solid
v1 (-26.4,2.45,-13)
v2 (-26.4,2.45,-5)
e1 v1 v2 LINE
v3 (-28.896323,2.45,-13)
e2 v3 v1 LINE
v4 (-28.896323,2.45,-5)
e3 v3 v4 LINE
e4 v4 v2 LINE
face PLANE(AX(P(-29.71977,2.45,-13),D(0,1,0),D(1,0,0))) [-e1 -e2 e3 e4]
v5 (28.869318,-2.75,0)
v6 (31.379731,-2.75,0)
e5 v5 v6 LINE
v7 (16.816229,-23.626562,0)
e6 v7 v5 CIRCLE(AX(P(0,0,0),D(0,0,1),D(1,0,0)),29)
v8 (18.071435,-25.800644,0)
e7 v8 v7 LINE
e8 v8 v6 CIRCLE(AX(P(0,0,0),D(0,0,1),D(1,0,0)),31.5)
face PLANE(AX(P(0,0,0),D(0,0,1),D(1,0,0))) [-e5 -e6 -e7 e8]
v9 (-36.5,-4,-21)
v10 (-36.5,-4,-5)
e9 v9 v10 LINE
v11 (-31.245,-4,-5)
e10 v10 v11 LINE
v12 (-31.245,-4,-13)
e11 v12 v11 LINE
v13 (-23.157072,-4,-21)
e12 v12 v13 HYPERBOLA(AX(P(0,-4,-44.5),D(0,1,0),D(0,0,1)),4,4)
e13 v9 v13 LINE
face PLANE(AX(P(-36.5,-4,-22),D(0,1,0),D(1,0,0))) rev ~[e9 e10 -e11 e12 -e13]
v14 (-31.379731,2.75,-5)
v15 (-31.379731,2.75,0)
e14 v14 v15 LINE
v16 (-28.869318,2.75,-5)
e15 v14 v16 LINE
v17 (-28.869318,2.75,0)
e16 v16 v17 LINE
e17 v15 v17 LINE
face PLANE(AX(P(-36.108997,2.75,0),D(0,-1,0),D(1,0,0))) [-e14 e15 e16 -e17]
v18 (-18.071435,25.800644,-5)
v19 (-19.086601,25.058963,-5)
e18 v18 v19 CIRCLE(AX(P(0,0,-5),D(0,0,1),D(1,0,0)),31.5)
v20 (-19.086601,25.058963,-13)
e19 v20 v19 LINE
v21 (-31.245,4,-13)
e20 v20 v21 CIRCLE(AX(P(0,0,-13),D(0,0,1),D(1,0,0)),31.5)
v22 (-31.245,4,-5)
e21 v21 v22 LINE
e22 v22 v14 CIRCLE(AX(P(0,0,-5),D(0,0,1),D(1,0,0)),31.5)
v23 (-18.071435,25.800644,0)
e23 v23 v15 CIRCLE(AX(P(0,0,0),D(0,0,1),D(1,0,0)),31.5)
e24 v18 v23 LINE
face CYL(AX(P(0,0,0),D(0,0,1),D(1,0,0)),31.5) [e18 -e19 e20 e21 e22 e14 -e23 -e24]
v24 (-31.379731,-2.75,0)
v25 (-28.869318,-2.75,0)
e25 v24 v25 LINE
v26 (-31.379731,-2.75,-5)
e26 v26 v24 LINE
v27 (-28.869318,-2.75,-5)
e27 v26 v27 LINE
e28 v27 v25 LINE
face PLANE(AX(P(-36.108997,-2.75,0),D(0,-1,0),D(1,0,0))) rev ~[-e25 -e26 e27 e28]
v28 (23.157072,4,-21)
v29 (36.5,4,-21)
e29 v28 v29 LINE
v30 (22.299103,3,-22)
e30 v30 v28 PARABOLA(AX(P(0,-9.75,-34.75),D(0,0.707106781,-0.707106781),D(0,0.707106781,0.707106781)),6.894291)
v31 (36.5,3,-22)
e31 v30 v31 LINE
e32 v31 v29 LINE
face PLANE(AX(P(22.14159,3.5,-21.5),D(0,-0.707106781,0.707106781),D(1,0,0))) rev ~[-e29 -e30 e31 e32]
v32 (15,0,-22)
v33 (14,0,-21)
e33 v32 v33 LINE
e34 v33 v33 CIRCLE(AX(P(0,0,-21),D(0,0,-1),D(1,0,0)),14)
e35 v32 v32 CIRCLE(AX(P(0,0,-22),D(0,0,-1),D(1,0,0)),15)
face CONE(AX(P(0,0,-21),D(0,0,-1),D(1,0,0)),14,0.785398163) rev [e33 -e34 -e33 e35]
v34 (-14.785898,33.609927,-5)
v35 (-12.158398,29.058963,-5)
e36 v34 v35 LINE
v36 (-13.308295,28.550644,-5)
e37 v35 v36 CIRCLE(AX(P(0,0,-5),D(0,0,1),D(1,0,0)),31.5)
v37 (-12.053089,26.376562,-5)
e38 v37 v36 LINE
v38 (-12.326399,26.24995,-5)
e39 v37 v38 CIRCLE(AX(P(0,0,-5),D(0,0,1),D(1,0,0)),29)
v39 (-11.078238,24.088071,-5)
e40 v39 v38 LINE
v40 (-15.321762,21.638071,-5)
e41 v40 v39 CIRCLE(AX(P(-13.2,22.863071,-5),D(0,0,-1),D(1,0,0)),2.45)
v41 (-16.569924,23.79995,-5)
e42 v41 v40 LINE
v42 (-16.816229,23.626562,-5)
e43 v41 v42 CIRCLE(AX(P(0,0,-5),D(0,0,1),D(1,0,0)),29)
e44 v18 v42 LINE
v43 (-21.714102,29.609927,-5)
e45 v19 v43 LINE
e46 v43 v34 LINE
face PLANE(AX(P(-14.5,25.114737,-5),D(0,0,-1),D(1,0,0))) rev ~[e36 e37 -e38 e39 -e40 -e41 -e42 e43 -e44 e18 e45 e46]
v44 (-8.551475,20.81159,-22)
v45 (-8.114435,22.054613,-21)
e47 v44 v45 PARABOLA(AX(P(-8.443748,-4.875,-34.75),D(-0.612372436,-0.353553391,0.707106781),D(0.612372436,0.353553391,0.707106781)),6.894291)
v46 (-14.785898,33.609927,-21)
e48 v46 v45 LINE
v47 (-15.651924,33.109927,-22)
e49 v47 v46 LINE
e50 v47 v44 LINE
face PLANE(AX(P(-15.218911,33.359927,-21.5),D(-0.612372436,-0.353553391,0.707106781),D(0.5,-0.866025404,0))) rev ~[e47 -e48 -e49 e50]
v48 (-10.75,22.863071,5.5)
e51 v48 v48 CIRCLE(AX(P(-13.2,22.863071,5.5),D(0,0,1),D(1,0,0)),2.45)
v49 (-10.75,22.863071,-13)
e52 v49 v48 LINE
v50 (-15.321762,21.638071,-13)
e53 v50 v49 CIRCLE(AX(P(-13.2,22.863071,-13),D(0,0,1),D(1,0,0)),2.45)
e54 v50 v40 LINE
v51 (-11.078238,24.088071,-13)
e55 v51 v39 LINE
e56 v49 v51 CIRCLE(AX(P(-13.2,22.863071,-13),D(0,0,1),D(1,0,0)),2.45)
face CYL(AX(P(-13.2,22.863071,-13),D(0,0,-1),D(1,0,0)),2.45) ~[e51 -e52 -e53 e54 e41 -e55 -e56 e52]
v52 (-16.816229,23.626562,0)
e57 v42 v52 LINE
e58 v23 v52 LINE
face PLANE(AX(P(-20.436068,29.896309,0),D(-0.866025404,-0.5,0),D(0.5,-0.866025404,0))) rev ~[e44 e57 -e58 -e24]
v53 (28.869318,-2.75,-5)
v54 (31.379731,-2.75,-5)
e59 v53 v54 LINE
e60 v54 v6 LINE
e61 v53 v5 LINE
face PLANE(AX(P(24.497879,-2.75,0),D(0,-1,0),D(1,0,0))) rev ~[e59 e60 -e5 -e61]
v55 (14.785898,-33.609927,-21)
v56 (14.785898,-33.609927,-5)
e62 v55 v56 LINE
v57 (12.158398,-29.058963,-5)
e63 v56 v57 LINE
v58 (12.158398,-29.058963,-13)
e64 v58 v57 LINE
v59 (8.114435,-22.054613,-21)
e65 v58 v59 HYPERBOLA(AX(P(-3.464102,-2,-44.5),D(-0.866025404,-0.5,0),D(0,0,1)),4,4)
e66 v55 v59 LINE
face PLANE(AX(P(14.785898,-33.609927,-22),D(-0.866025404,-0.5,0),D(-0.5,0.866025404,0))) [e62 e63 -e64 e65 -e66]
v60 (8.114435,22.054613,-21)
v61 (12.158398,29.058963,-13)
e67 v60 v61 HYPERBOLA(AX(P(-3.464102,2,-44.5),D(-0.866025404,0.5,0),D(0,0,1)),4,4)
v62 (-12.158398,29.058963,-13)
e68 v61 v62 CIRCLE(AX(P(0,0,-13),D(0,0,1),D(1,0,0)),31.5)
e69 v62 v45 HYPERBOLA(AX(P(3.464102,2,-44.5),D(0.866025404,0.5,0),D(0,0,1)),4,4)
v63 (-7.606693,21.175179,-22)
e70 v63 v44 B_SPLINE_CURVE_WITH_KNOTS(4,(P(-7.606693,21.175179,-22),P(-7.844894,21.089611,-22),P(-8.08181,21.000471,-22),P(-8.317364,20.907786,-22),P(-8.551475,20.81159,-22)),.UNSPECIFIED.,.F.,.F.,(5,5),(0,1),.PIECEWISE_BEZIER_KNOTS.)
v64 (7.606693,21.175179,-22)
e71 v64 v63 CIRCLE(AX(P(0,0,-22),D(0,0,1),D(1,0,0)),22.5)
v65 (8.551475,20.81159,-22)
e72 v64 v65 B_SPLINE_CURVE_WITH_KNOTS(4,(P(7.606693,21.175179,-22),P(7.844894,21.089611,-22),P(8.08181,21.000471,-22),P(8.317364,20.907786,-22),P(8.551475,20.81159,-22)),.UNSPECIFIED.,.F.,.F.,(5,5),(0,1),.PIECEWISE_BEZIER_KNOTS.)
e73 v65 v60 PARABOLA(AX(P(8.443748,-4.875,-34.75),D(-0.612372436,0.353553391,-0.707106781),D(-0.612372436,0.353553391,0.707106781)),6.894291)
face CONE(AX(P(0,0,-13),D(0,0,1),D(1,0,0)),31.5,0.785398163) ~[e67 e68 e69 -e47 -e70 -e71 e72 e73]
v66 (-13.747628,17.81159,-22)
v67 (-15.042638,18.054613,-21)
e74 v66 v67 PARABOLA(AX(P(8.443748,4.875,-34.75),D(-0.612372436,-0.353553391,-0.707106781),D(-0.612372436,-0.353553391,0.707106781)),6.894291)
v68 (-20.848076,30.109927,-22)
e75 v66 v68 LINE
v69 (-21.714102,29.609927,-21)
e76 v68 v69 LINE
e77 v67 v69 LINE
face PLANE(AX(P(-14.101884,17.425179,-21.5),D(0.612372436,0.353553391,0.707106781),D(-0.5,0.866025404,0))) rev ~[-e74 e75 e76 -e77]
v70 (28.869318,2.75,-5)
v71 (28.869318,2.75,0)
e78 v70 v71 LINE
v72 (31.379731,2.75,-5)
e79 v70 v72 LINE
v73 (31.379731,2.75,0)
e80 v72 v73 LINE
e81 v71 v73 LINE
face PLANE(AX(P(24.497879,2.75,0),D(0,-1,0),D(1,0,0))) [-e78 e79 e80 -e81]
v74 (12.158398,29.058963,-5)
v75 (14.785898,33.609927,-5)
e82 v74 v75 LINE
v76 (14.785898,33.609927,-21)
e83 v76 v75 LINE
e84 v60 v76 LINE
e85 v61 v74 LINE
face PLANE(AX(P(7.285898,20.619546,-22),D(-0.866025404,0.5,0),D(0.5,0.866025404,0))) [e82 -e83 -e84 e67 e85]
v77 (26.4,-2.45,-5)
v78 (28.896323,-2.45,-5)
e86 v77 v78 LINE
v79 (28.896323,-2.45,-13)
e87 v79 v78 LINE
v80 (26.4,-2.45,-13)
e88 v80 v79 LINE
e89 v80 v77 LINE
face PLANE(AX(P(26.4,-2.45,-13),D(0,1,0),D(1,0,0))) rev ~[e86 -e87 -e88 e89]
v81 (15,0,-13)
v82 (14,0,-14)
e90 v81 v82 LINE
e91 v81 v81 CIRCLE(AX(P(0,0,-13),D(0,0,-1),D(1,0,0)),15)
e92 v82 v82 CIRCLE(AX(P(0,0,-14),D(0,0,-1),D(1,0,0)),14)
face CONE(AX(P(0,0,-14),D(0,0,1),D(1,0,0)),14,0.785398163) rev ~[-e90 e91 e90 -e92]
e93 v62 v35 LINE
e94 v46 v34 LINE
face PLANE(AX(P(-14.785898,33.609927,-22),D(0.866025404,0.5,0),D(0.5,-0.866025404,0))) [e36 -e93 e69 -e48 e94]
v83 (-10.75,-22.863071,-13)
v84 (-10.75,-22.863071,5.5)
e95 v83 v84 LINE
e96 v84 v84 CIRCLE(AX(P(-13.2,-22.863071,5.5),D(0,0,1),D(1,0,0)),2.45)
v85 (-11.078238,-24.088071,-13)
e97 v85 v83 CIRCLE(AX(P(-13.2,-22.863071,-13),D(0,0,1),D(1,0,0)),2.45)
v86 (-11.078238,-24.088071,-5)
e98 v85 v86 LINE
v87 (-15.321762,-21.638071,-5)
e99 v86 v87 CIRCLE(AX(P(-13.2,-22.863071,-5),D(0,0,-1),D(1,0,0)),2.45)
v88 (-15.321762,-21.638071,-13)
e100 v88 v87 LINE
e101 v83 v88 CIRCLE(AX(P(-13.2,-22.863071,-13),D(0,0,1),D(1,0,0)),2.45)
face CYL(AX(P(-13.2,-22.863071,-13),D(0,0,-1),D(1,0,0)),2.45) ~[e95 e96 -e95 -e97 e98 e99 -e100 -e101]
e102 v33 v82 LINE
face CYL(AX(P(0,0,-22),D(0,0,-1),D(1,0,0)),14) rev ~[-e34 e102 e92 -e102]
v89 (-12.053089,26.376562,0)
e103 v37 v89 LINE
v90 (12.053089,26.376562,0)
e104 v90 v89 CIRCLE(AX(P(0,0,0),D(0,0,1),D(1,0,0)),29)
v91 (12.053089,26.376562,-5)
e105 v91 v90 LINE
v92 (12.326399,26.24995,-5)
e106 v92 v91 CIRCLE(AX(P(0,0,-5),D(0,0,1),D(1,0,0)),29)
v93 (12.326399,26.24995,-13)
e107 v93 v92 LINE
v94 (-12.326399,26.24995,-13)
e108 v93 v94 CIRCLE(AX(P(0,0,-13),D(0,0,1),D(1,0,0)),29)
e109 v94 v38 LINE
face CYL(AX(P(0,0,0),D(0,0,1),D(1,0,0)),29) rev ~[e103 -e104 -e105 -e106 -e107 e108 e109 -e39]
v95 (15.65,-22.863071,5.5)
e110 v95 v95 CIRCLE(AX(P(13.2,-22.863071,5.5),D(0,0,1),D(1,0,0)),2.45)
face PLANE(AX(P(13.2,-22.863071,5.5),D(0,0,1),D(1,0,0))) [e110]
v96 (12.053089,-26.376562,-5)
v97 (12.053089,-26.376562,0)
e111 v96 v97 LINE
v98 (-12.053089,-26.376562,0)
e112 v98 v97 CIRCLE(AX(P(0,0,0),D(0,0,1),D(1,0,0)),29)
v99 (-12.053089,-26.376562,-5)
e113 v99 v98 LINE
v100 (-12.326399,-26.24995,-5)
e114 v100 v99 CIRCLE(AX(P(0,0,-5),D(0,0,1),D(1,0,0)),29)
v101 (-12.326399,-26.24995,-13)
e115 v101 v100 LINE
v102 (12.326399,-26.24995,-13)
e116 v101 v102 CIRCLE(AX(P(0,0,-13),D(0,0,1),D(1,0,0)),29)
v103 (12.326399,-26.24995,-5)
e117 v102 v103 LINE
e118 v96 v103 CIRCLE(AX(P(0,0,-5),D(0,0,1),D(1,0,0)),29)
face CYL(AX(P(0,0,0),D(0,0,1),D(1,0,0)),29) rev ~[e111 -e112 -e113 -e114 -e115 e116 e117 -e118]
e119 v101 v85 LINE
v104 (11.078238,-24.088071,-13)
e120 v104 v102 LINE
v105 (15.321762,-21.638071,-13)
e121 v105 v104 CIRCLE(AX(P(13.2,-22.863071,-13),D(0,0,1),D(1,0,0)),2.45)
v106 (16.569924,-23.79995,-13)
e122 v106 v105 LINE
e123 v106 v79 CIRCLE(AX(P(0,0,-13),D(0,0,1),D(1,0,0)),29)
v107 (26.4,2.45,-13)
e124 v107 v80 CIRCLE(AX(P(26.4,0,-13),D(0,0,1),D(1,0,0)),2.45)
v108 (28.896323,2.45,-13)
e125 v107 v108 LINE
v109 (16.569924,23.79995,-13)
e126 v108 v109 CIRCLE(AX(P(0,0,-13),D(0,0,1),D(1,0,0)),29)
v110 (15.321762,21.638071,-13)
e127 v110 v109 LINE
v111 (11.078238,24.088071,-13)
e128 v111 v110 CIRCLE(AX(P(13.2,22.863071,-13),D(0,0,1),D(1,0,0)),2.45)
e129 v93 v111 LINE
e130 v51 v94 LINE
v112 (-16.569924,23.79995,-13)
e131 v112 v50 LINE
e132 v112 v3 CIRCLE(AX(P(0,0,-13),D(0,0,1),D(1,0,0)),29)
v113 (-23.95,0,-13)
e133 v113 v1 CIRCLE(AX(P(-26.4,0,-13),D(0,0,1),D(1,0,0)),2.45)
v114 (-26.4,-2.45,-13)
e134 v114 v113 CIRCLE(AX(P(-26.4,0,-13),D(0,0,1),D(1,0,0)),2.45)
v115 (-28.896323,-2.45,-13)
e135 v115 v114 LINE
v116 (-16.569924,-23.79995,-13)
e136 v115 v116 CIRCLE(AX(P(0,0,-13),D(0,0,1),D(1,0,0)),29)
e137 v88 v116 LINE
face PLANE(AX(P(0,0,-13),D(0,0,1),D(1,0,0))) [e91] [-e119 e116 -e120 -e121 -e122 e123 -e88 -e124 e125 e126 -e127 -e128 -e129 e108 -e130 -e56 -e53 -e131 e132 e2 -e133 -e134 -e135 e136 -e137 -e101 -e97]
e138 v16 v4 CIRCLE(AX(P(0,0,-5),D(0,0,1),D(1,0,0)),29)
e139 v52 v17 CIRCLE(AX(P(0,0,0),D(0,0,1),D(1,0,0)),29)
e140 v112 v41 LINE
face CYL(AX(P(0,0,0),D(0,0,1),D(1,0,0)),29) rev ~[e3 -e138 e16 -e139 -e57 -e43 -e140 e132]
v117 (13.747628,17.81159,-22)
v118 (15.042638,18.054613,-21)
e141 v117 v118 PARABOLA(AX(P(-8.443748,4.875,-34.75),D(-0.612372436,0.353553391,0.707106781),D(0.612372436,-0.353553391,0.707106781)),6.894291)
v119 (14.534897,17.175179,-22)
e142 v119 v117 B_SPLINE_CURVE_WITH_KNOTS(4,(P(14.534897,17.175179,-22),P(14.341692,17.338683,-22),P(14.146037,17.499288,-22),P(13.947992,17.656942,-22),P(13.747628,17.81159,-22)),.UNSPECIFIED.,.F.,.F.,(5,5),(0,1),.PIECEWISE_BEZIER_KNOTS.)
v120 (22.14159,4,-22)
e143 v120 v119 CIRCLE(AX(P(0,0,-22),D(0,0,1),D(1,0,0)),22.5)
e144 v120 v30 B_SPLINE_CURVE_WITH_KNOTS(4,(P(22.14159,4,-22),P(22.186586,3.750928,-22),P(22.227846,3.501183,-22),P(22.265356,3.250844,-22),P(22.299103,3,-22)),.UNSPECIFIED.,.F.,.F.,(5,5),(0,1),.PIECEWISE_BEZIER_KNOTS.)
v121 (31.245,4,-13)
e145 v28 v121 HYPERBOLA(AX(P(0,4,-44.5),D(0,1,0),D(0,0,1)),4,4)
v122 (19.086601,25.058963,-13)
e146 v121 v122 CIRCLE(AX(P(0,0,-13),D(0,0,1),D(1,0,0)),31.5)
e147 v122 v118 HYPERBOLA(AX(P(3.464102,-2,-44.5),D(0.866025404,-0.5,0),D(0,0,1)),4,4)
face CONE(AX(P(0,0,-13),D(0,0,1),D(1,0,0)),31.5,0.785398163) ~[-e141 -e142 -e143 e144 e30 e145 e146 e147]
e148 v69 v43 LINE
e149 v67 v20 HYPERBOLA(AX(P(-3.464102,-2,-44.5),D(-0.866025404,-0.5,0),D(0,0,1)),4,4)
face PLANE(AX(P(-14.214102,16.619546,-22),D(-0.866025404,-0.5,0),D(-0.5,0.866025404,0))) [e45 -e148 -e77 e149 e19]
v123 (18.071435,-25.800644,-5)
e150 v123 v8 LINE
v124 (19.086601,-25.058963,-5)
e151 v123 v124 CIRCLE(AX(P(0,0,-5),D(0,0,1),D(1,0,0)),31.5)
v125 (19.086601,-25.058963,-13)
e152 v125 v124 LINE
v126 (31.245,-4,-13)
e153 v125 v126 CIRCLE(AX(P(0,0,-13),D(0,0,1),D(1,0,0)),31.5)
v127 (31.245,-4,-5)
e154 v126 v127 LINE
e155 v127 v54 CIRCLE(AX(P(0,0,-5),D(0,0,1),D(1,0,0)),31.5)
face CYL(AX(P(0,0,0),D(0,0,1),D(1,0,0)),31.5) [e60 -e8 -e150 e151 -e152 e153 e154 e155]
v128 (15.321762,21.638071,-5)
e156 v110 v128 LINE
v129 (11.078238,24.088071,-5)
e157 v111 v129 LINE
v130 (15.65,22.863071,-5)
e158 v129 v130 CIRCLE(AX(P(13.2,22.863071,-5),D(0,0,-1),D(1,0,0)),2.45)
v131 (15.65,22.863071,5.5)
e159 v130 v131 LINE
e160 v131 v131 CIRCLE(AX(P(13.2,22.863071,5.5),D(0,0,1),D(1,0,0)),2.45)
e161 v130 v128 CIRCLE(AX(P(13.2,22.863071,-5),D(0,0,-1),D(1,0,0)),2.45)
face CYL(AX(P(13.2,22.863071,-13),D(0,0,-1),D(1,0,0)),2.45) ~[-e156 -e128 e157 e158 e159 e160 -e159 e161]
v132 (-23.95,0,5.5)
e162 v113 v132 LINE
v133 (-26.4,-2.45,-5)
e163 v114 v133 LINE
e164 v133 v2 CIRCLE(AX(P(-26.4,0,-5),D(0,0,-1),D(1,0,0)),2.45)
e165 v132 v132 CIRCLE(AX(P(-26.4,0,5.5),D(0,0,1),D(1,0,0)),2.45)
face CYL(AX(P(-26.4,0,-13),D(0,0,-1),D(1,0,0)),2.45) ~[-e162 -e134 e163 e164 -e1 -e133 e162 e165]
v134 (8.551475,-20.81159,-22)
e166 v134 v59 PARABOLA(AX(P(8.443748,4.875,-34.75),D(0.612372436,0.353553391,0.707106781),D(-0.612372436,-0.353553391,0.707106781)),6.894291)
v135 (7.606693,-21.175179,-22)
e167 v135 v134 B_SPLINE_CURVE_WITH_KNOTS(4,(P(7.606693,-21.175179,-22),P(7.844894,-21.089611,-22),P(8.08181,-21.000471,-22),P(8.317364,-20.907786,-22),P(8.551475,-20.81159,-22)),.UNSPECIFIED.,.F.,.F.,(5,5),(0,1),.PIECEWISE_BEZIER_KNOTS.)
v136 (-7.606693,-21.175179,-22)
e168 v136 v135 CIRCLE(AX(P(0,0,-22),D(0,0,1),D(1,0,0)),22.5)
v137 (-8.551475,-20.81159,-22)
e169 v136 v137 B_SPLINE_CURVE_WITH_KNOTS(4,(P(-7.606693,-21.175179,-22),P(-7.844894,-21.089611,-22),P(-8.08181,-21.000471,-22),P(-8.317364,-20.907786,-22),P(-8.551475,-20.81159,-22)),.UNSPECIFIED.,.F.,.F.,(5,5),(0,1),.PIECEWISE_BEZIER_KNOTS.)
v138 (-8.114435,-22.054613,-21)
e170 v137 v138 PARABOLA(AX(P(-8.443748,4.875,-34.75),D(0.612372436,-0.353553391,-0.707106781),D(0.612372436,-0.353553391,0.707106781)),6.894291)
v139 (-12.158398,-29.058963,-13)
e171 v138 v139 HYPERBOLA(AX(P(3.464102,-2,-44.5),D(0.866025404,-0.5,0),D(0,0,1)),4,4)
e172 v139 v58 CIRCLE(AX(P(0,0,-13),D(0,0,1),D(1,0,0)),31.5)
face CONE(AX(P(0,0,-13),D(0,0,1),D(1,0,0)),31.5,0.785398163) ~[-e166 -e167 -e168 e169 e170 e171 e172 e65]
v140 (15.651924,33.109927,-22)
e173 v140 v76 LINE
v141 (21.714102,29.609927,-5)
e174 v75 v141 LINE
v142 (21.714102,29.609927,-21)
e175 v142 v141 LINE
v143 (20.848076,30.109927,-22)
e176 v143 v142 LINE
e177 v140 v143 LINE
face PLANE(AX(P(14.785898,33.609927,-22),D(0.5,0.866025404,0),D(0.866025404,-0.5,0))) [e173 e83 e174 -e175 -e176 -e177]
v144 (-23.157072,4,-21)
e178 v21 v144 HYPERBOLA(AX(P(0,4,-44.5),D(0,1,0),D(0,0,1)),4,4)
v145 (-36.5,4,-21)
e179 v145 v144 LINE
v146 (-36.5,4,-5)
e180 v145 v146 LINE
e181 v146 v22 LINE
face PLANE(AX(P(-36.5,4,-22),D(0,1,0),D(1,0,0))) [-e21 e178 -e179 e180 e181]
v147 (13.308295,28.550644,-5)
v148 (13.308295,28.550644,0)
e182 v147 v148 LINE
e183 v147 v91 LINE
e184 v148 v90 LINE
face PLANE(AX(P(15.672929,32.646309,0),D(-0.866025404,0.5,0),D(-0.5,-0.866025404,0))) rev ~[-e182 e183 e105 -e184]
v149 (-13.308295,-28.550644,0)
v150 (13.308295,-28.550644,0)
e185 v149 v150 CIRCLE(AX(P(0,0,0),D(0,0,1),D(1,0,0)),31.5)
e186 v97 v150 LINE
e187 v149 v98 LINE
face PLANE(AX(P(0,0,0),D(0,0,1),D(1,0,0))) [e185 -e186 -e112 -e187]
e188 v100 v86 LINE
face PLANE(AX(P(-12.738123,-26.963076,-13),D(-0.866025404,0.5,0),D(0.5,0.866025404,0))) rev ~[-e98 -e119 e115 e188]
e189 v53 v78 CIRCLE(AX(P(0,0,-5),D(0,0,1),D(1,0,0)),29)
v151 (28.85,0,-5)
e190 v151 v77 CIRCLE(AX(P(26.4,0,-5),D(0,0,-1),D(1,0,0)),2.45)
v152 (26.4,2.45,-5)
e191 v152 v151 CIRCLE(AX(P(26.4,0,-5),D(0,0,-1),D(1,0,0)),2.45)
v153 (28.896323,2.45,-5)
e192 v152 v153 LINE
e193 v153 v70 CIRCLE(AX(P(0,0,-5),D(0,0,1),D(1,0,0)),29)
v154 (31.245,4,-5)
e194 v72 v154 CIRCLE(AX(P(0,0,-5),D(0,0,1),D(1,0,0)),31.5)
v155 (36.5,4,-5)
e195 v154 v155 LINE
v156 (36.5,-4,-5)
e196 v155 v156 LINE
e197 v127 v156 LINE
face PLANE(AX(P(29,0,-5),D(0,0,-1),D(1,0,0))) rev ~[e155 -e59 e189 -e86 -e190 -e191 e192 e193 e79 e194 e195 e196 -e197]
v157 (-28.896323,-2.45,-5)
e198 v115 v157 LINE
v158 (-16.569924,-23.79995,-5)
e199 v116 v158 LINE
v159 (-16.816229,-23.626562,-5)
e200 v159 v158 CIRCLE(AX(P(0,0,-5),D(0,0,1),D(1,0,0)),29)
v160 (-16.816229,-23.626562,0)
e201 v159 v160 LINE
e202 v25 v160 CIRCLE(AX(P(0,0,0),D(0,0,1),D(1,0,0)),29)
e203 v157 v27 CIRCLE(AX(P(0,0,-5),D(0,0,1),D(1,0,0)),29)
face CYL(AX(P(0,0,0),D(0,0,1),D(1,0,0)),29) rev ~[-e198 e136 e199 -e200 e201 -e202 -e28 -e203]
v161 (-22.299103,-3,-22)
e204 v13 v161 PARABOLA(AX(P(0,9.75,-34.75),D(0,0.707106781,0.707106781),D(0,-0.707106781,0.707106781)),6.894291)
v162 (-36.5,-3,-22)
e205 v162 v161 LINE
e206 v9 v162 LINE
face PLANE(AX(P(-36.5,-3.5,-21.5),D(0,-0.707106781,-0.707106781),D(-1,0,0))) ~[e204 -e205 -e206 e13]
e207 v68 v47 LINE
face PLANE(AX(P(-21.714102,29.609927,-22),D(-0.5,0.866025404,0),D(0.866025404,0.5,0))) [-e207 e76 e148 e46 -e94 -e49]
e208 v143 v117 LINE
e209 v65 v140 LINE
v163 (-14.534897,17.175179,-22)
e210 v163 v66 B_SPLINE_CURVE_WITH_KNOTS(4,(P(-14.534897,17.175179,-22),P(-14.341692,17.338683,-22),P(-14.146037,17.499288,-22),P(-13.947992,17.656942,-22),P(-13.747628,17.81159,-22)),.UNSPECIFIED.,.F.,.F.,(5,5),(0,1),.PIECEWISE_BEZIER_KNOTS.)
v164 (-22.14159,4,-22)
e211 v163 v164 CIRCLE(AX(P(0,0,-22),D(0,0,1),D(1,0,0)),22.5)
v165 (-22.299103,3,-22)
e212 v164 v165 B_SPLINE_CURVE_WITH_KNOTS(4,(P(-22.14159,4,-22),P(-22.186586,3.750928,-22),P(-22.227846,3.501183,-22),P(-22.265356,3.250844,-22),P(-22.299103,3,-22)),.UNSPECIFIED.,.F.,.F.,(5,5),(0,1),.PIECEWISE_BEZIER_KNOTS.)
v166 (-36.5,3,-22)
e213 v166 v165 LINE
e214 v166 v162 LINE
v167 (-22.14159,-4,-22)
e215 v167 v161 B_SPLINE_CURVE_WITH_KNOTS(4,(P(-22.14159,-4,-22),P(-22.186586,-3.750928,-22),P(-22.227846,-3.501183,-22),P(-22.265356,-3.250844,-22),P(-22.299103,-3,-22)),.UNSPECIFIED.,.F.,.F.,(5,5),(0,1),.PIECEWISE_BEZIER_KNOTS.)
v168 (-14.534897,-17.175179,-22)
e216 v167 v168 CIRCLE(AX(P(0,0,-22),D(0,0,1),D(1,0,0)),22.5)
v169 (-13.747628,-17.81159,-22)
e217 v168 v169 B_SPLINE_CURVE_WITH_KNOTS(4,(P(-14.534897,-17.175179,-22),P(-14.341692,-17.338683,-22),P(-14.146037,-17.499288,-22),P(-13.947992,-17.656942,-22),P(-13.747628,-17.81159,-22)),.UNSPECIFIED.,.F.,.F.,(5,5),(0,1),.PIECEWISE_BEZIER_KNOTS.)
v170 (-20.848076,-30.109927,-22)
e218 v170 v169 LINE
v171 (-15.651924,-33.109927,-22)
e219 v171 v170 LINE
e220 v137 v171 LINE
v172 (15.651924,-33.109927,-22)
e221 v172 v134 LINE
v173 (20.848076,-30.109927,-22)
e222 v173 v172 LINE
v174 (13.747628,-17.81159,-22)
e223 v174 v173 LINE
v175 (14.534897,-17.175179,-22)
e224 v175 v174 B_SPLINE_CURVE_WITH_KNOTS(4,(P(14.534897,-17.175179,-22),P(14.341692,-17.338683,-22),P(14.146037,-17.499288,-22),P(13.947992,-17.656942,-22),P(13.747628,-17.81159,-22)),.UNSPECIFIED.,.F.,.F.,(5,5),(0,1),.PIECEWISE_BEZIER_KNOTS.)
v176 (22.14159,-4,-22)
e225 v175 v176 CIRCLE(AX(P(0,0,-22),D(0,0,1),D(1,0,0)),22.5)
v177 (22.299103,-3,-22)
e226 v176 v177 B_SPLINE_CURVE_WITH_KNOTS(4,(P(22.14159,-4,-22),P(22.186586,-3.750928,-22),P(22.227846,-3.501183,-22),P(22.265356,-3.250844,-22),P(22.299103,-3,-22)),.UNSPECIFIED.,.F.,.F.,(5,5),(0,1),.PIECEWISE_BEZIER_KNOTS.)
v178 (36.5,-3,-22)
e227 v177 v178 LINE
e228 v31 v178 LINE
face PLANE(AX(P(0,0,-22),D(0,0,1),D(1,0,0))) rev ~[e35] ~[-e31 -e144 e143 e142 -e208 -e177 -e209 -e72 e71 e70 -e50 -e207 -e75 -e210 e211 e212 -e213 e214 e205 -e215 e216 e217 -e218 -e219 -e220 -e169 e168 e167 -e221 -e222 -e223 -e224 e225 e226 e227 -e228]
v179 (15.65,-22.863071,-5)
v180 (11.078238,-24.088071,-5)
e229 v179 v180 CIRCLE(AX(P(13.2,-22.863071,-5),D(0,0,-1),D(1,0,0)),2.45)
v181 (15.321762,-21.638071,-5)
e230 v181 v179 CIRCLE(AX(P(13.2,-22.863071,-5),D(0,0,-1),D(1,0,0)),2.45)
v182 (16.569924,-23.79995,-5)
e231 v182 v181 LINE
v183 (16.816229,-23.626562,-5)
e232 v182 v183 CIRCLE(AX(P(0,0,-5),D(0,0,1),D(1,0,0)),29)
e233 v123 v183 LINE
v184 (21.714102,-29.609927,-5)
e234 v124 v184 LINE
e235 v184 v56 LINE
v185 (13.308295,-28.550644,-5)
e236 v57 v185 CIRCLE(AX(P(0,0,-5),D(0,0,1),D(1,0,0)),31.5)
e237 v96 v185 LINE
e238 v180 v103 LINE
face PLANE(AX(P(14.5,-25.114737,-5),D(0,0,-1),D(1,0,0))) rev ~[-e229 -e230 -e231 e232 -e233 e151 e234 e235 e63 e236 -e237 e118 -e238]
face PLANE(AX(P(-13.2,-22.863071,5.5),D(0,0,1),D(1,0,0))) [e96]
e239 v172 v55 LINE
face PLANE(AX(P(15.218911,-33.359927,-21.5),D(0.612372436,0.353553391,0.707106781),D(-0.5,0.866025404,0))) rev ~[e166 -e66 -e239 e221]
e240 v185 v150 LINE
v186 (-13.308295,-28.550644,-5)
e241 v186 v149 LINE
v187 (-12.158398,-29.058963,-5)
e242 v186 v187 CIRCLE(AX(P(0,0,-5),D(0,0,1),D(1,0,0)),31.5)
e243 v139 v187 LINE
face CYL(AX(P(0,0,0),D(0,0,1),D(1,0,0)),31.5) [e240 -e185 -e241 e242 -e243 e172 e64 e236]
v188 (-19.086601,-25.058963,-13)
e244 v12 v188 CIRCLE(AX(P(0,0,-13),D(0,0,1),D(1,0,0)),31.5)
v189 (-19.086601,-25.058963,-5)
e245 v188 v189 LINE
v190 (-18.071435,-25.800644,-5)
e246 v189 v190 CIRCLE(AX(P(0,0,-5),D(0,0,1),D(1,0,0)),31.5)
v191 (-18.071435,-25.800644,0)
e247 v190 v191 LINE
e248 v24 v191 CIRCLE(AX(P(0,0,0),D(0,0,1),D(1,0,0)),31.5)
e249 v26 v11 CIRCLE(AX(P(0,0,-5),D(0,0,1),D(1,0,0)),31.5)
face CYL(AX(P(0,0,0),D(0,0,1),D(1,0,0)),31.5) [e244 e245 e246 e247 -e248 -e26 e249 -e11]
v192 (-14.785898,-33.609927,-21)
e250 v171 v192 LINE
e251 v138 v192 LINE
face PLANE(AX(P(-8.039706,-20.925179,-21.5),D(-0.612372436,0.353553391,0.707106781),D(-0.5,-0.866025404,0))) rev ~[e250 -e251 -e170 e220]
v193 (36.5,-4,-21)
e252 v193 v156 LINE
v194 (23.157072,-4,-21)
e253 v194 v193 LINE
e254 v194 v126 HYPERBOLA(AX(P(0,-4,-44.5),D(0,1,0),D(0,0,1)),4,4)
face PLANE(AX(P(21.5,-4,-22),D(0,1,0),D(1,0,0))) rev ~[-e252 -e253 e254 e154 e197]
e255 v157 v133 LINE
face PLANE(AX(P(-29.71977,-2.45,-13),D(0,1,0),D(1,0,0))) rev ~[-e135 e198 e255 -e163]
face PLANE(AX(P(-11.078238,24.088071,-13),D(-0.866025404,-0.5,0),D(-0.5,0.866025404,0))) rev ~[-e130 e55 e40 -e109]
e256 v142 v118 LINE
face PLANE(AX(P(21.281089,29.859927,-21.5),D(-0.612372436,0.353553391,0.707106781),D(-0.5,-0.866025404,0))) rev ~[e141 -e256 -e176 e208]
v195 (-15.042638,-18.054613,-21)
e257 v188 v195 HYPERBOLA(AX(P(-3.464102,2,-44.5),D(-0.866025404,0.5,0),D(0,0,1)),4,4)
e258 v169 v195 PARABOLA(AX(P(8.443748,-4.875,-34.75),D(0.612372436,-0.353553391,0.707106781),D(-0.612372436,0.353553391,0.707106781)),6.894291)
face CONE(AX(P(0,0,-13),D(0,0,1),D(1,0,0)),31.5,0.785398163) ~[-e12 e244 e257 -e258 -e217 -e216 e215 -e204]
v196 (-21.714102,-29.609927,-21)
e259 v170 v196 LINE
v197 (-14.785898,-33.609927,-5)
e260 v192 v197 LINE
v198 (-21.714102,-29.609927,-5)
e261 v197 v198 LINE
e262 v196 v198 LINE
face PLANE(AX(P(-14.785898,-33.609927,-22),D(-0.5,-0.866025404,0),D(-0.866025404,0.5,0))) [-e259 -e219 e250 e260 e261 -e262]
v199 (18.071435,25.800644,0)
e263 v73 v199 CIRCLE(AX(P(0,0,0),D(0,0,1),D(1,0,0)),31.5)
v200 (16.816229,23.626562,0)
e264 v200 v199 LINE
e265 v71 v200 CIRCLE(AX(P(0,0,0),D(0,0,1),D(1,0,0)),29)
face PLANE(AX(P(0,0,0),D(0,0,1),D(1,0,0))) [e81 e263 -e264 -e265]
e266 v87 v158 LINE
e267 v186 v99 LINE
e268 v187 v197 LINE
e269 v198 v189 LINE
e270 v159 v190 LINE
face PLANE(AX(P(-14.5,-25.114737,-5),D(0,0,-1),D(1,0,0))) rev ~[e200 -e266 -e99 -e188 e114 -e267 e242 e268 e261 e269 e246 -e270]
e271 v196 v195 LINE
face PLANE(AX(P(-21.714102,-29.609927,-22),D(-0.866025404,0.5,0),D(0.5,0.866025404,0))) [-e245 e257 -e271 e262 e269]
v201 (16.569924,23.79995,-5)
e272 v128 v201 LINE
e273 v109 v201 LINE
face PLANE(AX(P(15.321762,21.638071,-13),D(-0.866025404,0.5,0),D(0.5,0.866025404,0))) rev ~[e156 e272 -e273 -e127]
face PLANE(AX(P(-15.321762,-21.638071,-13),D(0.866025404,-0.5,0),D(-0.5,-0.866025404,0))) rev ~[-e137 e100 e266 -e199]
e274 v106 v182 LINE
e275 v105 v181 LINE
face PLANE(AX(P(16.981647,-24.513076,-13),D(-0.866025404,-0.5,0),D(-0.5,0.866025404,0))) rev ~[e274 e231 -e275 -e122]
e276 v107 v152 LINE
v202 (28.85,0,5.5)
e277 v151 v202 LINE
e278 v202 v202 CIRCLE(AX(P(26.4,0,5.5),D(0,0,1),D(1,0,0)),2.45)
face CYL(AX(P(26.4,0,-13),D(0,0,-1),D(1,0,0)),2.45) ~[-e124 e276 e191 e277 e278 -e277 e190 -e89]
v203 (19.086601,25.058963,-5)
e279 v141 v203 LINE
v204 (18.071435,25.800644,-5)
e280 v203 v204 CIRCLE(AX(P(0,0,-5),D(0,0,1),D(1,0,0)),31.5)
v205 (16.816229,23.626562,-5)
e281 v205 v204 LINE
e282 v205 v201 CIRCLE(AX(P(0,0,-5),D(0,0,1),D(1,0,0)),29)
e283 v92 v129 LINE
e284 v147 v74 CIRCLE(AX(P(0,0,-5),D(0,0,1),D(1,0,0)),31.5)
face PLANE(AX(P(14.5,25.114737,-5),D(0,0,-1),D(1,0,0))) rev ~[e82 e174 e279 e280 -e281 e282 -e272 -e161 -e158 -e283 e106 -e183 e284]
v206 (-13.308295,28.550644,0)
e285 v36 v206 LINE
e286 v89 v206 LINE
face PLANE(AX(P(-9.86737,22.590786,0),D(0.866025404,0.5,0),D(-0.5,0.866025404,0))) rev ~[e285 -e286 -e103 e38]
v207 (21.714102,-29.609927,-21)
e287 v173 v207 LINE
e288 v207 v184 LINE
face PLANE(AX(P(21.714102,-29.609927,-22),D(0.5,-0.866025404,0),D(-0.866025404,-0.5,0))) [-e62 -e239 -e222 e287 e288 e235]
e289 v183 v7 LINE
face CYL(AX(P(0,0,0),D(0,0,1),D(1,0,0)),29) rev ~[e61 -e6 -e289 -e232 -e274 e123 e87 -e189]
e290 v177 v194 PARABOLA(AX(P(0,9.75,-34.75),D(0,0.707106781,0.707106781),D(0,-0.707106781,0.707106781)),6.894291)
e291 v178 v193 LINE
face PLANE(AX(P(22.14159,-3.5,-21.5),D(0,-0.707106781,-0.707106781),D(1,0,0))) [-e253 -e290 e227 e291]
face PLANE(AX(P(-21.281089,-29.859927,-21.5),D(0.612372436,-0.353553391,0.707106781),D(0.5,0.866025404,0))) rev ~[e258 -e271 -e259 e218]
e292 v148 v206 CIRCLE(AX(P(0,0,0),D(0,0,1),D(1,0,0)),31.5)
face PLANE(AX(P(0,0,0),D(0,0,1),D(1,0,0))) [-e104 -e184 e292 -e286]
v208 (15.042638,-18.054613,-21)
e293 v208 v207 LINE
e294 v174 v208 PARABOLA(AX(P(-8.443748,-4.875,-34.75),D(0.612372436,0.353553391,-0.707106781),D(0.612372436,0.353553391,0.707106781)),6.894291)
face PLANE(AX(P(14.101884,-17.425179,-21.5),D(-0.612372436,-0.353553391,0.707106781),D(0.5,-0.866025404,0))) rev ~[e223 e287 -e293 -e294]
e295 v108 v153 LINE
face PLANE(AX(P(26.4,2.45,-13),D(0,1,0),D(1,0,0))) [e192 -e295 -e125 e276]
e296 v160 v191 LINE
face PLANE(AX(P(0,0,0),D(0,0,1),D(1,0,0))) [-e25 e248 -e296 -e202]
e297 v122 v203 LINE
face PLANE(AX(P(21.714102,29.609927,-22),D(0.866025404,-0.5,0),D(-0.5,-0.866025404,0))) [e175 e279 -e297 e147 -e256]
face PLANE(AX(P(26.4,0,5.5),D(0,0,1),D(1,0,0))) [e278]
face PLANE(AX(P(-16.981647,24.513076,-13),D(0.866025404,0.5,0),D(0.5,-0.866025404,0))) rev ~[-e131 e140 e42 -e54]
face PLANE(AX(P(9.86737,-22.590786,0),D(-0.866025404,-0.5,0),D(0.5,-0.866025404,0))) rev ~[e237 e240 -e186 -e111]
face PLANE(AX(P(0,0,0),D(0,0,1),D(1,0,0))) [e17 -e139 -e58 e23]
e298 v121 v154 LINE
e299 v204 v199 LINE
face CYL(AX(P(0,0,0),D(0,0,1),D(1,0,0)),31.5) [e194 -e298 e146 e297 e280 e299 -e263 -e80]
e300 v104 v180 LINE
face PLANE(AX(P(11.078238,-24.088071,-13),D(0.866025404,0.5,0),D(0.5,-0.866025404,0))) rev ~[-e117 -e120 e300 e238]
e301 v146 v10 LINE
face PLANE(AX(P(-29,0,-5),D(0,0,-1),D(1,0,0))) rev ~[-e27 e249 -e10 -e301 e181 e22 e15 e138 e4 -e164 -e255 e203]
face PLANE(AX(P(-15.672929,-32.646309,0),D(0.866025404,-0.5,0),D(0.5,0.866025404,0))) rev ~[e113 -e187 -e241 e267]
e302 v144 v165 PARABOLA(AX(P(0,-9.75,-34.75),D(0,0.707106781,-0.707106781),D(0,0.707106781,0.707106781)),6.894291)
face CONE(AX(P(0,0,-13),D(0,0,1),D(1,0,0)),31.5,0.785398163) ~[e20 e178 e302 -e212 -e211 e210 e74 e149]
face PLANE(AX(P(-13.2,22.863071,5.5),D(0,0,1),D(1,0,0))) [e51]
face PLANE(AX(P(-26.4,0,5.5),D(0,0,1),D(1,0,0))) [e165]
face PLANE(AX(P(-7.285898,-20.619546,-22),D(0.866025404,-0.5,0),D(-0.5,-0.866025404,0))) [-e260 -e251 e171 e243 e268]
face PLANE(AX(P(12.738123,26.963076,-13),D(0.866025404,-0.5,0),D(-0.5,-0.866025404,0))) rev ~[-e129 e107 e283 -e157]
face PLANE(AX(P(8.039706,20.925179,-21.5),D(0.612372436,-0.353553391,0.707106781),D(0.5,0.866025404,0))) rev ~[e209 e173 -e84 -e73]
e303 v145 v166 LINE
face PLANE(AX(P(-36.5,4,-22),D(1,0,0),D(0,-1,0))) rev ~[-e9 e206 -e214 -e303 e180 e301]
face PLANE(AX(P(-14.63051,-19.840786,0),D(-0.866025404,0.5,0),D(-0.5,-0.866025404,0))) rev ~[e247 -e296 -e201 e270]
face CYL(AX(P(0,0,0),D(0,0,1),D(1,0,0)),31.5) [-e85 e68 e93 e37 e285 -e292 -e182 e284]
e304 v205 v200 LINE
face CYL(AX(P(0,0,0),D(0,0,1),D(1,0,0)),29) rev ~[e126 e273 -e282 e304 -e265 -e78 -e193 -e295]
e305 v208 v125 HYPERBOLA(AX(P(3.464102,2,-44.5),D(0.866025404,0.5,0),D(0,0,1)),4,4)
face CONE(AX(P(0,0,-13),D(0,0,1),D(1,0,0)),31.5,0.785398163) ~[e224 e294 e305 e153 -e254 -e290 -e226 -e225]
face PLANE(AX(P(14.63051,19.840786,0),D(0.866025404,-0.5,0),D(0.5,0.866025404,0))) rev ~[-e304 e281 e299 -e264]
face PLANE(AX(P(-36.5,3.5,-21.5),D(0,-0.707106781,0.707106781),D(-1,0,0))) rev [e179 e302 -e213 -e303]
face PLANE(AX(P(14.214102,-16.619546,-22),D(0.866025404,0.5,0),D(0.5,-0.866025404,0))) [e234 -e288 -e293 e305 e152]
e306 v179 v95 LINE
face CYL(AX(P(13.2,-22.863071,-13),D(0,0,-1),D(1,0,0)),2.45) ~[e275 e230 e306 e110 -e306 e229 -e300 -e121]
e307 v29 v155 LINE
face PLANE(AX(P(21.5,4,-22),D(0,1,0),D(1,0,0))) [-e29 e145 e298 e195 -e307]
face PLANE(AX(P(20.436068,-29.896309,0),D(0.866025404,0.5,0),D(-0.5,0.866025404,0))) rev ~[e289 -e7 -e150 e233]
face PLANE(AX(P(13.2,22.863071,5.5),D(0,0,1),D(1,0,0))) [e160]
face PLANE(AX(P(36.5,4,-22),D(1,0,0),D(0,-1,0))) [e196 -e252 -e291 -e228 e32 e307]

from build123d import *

# Parameters (mm, degrees)
F0_R      = 31.5
F1_DEPTH  = 22
F3_R      = 14
F4_DEPTH  = 22.001
F5_SIZE   = 9
F6_W      = 15
F6_H      = 8
F7_DEPTH  = 17
F2_R      = 29
F8_DEPTH  = 13
F9_W      = 11.6111175559
F9_H      = 5.5
F10_DEPTH = 5
F11_R     = 2.45
F12_DEPTH = 18.5
F13_W     = 3.3197699547
F13_H     = 4.9
F14_DEPTH = 8
F15_SIZE  = 1


with BuildPart() as f1:
    # F0 (on Top) → F1 (new body)
    with BuildSketch(Plane.XY):
        Circle(F0_R)
    extrude(amount=-F1_DEPTH)

    # F3 (on face) → F4 (cut, through all)
    with BuildSketch(Plane(origin=(0, 0, -22), x_dir=(1, 0, 0), z_dir=(0, 0, -1))):
        Circle(F3_R)
    extrude(amount=-F4_DEPTH, mode=Mode.SUBTRACT)

    # F5
    f5_edges = [f1.edges().sort_by_distance(p)[0] for p in [
        (-31.5, 0, -22),
    ]]
    chamfer(f5_edges, length=F5_SIZE)

    # F6 (on face) → F7 (join)
    with BuildSketch(Plane(origin=(0, 0, -22), x_dir=(1, 0, 0), z_dir=(0, 0, -1))):
        with Locations((29, 0)):
            Rectangle(F6_W, F6_H)
        Polygon((21.7141016151, 29.6099272381), (14.7858983849, 33.6099272381), (7.2858983849, 20.6195461814), (14.2141016151, 16.6195461814), align=None)
        Polygon((-14.7858983849, 33.6099272381), (-21.7141016151, 29.6099272381), (-14.2141016151, 16.6195461814), (-7.2858983849, 20.6195461814), align=None)
        with Locations((-29, 0)):
            Rectangle(F6_W, F6_H)
        Polygon((-21.7141016151, -29.6099272381), (-14.7858983849, -33.6099272381), (-7.2858983849, -20.6195461814), (-14.2141016151, -16.6195461814), align=None)
        Polygon((14.7858983849, -33.6099272381), (21.7141016151, -29.6099272381), (14.2141016151, -16.6195461814), (7.2858983849, -20.6195461814), align=None)
    extrude(amount=-F7_DEPTH)

    # F2 (on face) → F8 (cut)
    with BuildSketch(Plane.XY):
        Circle(F2_R)
    extrude(amount=-F8_DEPTH, mode=Mode.SUBTRACT)

    # F9 (on face) → F10 (cut)
    with BuildSketch(Plane.XY):
        with Locations((30.3034381941, 0)):
            Rectangle(F9_W, F9_H)
        Polygon((20.4360683464, 29.896308683), (15.6729286256, 32.646308683), (9.8673698477, 22.5907859132), (14.6305095685, 19.8407859132), align=None)
        Polygon((-15.6729286256, 32.646308683), (-20.4360683464, 29.896308683), (-14.6305095685, 19.8407859132), (-9.8673698477, 22.5907859132), align=None)
        with Locations((-30.3034381941, 0)):
            Rectangle(F9_W, F9_H)
        Polygon((-20.4360683464, -29.896308683), (-15.6729286256, -32.646308683), (-9.8673698477, -22.5907859132), (-14.6305095685, -19.8407859132), align=None)
        Polygon((15.6729286256, -32.646308683), (20.4360683464, -29.896308683), (14.6305095685, -19.8407859132), (9.8673698477, -22.5907859132), align=None)
    extrude(amount=-F10_DEPTH, mode=Mode.SUBTRACT)

    # F11 (on face) → F12 (join)
    with BuildSketch(Plane.XY.offset(-13)):
        with Locations((-26.4, 0)):
            Circle(F11_R)
        with Locations((-13.2, -22.8630706599)):
            Circle(F11_R)
        with Locations((13.2, -22.8630706599)):
            Circle(F11_R)
        with Locations((26.4, 0)):
            Circle(F11_R)
        with Locations((13.2, 22.8630706599)):
            Circle(F11_R)
        with Locations((-13.2, 22.8630706599)):
            Circle(F11_R)
    extrude(amount=F12_DEPTH)

    # F13 (on face) → F14 (join)
    with BuildSketch(Plane.XY.offset(-13)):
        with Locations((-28.0598849773, 0)):
            Rectangle(F13_W, F13_H)
        Polygon((-16.9816472166, -24.5130757754), (-12.7381227381, -26.9630757754), (-11.0782377607, -24.0880706599), (-15.3217622393, -21.6380706599), align=None)
        Polygon((12.7381227381, -26.9630757754), (16.9816472166, -24.5130757754), (15.3217622393, -21.6380706599), (11.0782377607, -24.0880706599), align=None)
        with Locations((28.0598849773, 0)):
            Rectangle(F13_W, F13_H)
        Polygon((16.9816472166, 24.5130757754), (12.7381227381, 26.9630757754), (11.0782377607, 24.0880706599), (15.3217622393, 21.6380706599), align=None)
        Polygon((-12.7381227381, 26.9630757754), (-16.9816472166, 24.5130757754), (-15.3217622393, 21.6380706599), (-11.0782377607, 24.0880706599), align=None)
    extrude(amount=F14_DEPTH)

    # F15
    f15_edges = [f1.edges().sort_by_distance(p)[0] for p in [
        (-14, 0, -22),
        (-14, 0, -13),
        (-18.124499, -23.392553, -22),
        (-11.196296, -27.392553, -22),
        (11.196296, -27.392553, -22),
        (18.124499, -23.392553, -22),
        (29.320795, -4, -22),
        (29.320795, 4, -22),
        (18.124499, 23.392553, -22),
        (11.196296, 27.392553, -22),
        (-11.196296, 27.392553, -22),
        (-18.124499, 23.392553, -22),
        (-29.320795, 4, -22),
        (-29.320795, -4, -22),
    ]]
    chamfer(f15_edges, length=F15_SIZE)


solid = f1.part
